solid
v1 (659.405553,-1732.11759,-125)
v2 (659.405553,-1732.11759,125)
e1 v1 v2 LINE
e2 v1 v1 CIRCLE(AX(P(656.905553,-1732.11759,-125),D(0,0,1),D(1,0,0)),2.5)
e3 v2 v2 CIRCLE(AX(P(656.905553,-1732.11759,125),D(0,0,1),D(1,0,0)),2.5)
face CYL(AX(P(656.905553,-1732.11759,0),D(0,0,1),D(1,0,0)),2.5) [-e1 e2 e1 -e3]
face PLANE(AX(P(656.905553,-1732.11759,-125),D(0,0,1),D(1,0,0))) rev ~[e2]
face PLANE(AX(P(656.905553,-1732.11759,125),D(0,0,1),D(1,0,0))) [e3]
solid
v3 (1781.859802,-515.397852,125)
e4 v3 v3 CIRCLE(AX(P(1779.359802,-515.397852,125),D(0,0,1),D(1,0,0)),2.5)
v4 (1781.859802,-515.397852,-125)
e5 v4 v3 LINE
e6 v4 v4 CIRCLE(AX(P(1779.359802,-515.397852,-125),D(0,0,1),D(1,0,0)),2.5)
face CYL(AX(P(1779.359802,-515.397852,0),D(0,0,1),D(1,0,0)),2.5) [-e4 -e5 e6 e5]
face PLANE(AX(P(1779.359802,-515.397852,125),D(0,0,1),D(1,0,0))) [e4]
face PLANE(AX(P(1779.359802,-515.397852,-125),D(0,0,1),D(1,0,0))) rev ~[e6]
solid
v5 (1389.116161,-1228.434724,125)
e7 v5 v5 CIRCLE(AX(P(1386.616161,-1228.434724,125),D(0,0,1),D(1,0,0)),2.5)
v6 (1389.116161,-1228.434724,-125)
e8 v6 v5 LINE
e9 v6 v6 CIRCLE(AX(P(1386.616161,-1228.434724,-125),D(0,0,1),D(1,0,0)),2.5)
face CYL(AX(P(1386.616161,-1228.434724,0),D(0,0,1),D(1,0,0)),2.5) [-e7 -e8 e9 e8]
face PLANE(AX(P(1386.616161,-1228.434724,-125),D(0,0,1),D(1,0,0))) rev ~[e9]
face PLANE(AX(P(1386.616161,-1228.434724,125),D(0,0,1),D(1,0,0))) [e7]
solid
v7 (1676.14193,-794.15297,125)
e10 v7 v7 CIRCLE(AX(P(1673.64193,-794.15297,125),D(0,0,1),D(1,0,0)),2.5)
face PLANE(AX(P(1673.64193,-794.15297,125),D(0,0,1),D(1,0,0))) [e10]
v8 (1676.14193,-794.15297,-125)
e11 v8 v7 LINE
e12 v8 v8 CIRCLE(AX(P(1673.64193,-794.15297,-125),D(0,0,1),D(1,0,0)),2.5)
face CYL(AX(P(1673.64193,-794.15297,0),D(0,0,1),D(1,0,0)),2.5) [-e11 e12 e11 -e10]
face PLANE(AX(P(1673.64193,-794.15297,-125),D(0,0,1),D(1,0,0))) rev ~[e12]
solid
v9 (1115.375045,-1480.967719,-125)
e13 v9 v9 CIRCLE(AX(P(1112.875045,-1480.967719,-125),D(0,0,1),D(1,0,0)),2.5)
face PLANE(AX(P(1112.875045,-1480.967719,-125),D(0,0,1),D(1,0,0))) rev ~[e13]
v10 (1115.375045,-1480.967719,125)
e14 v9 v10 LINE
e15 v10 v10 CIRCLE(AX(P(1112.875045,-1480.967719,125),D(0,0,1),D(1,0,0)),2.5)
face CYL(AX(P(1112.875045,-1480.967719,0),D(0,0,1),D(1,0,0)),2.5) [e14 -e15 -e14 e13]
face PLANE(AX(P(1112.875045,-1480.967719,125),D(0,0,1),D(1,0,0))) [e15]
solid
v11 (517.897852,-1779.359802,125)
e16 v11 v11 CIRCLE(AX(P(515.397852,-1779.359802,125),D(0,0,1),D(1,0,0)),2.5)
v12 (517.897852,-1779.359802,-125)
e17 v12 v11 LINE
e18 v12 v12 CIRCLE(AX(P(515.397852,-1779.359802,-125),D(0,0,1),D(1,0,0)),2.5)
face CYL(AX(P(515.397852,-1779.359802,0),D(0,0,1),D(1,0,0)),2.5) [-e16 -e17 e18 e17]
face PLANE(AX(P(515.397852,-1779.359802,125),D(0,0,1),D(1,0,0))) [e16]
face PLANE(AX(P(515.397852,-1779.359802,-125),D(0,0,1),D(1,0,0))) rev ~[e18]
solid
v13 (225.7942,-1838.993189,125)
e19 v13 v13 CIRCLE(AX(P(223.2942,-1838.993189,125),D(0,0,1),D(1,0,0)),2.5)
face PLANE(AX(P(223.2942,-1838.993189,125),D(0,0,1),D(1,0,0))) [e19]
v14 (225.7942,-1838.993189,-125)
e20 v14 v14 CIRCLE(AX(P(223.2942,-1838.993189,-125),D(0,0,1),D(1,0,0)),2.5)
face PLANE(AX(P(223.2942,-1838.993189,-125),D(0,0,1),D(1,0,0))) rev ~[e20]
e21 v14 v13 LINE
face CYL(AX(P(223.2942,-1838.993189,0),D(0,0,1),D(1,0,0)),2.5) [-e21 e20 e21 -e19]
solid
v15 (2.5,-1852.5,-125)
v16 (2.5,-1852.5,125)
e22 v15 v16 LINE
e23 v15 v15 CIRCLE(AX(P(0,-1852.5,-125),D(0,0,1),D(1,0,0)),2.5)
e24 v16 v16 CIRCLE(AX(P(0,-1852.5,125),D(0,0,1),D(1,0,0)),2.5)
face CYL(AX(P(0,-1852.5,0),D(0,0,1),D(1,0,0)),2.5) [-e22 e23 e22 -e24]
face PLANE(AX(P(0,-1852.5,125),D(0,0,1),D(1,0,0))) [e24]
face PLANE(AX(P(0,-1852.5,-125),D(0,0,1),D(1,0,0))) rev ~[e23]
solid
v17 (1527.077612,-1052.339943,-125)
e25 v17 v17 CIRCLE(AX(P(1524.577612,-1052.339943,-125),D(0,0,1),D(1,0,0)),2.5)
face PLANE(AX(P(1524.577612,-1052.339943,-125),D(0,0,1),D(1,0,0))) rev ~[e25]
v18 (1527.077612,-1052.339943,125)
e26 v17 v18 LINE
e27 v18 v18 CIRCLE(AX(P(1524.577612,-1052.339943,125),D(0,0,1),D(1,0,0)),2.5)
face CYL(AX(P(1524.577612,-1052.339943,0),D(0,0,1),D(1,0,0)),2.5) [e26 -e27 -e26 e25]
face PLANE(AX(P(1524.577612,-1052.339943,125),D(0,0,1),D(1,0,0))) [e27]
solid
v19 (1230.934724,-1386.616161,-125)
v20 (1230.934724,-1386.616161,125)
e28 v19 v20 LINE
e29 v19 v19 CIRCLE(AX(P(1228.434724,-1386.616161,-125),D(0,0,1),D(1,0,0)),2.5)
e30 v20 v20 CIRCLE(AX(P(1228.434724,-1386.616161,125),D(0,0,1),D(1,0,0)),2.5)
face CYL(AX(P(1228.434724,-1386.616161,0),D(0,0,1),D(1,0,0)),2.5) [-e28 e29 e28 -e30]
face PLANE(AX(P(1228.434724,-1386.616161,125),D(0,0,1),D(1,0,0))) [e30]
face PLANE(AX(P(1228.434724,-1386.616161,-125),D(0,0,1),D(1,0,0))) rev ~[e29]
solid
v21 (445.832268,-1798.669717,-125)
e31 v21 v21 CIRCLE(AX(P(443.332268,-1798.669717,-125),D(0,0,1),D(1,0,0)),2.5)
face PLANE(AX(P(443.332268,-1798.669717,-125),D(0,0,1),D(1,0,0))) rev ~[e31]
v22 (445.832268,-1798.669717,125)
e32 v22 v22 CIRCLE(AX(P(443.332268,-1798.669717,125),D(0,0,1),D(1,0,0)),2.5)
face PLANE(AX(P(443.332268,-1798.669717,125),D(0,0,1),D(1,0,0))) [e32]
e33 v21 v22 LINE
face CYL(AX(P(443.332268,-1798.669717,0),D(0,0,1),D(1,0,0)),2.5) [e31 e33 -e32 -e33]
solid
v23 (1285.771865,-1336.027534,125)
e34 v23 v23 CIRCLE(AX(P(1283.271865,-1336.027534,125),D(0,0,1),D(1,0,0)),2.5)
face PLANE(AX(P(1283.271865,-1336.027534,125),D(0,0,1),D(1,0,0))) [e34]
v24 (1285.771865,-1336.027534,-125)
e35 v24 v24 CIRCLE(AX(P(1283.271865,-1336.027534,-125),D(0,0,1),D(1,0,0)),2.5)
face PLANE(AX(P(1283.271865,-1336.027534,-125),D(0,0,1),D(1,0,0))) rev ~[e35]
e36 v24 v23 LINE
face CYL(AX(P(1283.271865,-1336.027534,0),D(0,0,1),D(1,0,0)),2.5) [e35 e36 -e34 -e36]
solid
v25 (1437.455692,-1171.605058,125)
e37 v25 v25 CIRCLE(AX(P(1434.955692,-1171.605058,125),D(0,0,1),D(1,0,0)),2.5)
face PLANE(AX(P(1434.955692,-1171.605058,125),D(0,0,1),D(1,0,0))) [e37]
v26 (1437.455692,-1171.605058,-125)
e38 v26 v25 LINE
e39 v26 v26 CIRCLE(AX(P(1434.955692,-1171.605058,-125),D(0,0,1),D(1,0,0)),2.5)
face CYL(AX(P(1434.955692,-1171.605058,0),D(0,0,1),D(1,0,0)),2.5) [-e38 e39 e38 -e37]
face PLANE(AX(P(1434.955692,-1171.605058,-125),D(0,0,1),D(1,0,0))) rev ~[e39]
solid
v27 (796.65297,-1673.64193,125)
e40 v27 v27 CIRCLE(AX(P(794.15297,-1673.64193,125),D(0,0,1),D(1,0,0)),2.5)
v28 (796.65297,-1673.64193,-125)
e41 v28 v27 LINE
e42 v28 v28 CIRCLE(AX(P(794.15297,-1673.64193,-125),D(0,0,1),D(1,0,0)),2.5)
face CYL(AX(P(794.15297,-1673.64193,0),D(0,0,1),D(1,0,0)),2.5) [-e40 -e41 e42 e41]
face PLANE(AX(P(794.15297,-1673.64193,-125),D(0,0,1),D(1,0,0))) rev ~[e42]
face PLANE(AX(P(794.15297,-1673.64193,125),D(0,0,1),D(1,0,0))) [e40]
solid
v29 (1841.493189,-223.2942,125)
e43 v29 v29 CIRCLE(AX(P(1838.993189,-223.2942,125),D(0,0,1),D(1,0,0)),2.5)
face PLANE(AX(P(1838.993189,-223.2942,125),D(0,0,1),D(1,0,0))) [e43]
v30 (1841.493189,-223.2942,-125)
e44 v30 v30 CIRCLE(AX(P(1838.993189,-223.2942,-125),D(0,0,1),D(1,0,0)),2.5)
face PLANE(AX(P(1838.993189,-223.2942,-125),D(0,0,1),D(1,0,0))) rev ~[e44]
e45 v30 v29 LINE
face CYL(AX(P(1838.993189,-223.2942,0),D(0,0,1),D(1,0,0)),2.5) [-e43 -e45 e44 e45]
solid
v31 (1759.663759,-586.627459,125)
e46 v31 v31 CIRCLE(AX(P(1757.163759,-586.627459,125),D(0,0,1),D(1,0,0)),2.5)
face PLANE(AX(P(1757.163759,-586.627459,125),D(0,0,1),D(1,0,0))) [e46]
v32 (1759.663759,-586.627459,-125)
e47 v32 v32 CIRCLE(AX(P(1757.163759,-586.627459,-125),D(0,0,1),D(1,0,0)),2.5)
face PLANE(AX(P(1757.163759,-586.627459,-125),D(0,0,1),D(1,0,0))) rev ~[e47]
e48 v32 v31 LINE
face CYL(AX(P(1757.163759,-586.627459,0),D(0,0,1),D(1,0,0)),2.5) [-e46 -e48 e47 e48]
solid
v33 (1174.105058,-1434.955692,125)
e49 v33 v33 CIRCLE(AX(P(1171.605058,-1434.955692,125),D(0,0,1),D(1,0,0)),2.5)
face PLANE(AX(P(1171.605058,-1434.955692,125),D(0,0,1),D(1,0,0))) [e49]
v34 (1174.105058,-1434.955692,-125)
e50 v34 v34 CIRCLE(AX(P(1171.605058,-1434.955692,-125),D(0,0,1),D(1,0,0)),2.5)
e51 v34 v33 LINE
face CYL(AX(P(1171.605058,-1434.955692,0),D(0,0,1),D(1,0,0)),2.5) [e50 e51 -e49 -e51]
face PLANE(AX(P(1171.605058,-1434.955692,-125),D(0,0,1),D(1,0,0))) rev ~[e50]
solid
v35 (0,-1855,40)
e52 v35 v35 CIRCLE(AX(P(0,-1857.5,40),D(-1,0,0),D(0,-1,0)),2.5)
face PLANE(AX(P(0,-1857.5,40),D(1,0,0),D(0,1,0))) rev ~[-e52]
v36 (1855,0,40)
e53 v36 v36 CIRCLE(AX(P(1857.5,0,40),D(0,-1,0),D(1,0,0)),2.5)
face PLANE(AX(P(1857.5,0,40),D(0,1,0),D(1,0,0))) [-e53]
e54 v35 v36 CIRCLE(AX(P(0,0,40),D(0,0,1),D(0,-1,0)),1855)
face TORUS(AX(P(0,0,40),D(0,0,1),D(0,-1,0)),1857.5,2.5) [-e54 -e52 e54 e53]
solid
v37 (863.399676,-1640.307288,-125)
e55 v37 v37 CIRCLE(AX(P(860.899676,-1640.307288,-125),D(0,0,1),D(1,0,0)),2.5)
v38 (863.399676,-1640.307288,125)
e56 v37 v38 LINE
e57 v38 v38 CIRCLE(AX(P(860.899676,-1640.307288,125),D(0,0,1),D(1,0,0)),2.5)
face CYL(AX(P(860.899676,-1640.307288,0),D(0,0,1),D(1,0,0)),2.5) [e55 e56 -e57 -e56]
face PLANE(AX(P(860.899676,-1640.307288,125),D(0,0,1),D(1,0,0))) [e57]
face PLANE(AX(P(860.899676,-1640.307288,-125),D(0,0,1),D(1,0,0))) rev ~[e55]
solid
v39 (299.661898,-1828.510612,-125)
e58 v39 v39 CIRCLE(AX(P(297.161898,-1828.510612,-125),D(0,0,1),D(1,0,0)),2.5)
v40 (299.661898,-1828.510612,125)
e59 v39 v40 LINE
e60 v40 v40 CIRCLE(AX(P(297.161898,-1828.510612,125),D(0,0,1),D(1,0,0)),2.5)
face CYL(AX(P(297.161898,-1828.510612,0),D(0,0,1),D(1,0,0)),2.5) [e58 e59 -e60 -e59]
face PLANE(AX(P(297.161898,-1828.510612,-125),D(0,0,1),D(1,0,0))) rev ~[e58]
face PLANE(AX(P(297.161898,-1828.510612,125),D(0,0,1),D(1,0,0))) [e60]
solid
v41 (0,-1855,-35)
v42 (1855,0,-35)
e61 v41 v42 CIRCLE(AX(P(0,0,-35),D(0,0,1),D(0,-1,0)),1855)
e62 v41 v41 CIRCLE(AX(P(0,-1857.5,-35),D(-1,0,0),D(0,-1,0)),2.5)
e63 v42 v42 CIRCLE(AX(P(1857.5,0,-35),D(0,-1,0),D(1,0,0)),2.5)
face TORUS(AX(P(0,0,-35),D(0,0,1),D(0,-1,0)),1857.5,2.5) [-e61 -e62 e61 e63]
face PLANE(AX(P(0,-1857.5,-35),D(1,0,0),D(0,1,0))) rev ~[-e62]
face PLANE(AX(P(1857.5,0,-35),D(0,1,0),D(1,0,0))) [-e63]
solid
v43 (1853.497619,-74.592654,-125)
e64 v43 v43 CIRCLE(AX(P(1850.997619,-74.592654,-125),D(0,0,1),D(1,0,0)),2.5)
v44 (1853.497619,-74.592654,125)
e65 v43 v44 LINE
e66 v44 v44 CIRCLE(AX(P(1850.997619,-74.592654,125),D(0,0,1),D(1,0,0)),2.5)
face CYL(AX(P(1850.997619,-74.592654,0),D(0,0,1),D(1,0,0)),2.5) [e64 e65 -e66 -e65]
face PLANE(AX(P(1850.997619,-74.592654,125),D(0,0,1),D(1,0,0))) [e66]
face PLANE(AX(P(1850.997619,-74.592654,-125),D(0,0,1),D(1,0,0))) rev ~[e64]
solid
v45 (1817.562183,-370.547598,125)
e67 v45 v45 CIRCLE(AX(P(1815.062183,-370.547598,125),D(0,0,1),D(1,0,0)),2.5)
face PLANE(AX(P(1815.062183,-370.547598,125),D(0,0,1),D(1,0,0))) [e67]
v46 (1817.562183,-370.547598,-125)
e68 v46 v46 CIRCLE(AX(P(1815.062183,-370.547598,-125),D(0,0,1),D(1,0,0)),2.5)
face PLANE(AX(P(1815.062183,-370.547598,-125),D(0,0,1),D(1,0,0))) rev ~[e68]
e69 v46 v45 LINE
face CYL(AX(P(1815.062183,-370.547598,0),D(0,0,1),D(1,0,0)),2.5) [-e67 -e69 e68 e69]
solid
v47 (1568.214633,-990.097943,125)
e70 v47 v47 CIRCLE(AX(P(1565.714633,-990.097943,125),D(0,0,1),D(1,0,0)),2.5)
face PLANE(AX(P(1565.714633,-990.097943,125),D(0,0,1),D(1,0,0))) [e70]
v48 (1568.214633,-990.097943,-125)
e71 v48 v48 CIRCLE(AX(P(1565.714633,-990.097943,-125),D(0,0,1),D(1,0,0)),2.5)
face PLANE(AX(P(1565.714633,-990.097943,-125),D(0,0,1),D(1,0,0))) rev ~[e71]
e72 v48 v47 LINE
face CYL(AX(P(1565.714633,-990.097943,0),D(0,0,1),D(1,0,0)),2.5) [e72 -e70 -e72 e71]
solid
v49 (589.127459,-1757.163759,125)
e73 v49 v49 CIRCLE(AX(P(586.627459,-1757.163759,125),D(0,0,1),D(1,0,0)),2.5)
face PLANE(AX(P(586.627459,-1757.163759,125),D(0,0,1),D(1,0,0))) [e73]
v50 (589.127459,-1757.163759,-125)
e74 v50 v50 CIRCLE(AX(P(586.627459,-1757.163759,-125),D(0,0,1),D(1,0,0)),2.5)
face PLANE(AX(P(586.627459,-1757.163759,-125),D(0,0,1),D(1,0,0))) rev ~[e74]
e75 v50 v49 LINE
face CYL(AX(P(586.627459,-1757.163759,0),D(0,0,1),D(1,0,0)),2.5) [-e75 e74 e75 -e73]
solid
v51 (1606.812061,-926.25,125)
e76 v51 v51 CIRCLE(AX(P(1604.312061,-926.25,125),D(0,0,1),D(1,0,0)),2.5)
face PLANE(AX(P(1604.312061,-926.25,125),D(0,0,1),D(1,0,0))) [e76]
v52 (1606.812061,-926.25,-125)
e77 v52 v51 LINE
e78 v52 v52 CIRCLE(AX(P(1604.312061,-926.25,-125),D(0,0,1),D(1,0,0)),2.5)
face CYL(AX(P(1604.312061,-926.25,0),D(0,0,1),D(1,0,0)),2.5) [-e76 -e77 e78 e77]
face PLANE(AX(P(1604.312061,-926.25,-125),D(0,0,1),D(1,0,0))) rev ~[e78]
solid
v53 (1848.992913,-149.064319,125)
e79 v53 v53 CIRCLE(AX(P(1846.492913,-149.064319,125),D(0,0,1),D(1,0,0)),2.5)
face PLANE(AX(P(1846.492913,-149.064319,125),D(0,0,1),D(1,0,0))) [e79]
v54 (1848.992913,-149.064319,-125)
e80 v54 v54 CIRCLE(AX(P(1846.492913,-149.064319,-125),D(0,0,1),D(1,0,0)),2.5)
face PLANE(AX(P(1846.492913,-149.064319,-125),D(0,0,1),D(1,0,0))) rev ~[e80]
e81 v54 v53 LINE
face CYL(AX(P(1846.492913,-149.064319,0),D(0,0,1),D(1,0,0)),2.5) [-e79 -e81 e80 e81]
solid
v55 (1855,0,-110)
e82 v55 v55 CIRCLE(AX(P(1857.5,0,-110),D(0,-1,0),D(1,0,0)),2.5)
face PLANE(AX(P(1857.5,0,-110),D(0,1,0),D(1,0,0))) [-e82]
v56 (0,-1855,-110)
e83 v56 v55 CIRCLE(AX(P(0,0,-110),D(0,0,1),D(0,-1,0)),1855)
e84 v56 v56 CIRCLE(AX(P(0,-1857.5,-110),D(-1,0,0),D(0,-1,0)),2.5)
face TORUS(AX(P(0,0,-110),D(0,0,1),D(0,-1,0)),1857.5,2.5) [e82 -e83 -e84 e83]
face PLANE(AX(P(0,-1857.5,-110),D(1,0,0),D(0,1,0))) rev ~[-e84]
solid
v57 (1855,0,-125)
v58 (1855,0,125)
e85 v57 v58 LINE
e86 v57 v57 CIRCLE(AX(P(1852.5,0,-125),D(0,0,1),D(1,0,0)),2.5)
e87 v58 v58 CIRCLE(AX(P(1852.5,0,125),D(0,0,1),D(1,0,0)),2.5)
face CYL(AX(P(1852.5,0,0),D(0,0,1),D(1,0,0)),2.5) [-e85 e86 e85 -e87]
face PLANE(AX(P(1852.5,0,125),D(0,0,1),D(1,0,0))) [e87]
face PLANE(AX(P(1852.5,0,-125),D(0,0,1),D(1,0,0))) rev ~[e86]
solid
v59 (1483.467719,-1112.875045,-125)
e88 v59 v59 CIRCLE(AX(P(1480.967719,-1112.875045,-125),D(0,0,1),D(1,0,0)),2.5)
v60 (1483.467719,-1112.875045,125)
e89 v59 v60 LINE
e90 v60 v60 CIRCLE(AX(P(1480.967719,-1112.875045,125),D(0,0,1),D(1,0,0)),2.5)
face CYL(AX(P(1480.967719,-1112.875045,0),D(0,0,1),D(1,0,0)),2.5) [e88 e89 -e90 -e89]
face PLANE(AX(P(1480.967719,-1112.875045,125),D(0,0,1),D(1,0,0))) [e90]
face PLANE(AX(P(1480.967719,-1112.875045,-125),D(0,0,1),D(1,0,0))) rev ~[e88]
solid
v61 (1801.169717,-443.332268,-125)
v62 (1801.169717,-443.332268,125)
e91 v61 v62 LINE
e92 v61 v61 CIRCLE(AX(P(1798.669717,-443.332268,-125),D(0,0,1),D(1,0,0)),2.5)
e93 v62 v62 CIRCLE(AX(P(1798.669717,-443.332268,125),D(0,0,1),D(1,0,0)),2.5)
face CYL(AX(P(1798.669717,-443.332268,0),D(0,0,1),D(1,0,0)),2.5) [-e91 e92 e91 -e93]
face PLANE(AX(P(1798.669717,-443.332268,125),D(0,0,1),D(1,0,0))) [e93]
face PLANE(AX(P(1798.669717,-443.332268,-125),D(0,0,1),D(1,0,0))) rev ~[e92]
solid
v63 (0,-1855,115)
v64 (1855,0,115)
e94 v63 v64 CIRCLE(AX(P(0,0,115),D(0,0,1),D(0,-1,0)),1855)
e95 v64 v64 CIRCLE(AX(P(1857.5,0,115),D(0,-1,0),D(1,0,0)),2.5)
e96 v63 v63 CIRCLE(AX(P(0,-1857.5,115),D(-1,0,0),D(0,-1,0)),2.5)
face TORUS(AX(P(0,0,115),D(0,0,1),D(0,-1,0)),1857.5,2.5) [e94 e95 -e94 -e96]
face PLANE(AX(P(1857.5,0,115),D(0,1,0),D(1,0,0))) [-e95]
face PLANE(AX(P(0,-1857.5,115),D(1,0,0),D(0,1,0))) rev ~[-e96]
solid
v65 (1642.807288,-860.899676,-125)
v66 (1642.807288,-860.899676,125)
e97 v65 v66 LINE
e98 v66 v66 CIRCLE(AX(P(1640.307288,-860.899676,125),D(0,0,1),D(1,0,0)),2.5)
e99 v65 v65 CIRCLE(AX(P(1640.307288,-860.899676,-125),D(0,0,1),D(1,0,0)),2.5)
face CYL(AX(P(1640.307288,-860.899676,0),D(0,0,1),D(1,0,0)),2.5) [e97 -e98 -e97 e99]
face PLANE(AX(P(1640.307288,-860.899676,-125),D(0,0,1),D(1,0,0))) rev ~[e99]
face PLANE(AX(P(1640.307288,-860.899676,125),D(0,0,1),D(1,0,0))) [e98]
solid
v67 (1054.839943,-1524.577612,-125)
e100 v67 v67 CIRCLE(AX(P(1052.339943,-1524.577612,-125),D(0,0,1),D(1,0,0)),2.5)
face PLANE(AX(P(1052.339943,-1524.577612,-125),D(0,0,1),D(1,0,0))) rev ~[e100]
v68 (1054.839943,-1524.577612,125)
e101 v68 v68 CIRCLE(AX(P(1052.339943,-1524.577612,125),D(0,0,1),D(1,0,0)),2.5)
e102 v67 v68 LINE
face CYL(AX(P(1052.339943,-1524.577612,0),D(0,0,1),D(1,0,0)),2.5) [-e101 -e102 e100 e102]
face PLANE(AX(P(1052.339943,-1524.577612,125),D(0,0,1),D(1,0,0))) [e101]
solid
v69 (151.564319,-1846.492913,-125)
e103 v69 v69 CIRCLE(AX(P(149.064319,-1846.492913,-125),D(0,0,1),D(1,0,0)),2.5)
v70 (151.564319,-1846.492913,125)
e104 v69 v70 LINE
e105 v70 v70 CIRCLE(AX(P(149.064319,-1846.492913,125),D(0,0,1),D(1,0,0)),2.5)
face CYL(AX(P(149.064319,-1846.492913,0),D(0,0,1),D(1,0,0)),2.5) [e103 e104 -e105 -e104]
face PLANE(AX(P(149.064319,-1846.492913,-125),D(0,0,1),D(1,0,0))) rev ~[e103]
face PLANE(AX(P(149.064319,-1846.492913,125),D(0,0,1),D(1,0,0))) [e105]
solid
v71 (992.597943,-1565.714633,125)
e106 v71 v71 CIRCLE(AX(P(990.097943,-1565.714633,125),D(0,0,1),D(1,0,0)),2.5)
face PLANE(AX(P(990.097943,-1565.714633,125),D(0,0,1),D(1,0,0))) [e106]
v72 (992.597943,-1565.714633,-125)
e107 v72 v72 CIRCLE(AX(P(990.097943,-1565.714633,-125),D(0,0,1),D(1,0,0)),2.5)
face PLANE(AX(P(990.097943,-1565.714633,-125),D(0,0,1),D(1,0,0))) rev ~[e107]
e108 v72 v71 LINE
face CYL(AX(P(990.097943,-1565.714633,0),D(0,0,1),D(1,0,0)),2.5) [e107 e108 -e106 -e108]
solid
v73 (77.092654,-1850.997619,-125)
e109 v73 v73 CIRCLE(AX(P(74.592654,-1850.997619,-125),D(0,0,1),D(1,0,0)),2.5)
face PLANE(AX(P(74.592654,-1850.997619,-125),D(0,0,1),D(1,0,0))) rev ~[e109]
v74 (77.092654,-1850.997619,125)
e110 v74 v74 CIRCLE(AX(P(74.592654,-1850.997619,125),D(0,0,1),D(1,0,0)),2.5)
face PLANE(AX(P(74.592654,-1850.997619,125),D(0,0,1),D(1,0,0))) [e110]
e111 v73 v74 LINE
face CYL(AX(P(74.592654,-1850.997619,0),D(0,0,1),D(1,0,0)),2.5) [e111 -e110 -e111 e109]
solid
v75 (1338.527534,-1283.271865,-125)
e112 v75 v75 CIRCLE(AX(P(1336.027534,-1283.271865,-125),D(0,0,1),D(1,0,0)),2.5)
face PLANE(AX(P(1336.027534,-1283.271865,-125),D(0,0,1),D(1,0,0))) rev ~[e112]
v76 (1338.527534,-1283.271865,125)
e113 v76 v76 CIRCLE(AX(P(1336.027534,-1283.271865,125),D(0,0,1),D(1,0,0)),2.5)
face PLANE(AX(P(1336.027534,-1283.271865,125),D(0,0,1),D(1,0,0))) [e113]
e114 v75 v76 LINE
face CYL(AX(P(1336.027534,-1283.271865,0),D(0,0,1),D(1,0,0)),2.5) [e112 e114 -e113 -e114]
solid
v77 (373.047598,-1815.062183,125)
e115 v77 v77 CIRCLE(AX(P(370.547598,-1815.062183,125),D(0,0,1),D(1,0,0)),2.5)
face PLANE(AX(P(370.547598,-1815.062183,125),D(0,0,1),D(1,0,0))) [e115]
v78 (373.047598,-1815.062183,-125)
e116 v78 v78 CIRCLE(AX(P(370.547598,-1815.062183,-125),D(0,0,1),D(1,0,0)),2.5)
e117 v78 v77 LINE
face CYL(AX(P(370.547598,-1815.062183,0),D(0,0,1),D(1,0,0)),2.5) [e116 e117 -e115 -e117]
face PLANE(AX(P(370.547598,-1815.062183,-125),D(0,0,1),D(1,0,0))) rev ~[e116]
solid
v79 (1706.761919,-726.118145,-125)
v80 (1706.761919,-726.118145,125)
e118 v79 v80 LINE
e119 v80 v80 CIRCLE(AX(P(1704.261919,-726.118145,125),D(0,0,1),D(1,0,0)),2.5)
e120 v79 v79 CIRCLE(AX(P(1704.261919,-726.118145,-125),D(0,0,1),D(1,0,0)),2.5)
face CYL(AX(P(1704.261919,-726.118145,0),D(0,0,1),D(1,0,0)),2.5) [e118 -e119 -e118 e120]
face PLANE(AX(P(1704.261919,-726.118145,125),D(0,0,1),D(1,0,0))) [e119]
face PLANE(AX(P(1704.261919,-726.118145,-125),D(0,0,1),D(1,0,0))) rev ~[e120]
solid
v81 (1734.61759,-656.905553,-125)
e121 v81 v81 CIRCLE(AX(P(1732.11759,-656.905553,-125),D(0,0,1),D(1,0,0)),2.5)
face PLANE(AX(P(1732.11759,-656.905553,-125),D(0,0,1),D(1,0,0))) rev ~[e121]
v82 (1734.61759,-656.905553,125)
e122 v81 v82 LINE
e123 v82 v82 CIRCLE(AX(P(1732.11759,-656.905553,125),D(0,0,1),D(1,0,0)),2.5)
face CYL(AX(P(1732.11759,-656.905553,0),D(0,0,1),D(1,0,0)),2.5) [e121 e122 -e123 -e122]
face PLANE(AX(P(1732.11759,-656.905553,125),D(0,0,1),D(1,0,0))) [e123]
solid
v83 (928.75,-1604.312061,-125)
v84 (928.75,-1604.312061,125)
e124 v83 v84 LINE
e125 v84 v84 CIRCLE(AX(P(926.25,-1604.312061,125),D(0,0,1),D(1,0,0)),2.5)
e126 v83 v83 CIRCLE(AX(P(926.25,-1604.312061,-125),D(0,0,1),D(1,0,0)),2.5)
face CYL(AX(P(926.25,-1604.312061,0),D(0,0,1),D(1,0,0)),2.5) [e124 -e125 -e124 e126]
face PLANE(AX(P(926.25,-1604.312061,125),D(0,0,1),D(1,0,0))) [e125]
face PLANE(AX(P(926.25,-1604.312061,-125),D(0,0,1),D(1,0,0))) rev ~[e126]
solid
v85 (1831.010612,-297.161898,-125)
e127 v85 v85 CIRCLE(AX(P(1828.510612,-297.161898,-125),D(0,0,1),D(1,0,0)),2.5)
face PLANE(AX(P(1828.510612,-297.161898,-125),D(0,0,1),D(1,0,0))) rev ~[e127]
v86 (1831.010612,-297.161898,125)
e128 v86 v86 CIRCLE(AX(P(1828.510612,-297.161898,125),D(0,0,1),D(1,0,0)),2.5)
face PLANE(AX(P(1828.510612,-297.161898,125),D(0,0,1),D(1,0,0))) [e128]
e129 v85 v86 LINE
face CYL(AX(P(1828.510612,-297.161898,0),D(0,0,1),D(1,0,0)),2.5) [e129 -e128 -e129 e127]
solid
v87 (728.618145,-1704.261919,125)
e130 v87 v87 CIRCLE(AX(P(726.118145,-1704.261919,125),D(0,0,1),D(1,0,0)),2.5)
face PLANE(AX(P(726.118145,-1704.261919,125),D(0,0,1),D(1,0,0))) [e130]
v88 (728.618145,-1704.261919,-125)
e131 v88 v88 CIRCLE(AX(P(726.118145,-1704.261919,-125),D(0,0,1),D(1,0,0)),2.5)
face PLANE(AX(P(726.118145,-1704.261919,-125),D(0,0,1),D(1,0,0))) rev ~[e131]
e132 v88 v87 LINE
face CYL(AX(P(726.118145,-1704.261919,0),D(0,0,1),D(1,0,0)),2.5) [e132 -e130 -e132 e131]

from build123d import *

# Parameters (mm, degrees)
F0_R     = 2.5
F1_DEPTH = 125
F2_R     = 2.5


with BuildPart() as f1:
    # F0 (on Top) → F1 (new body, symmetric)
    with BuildSketch(Plane.XY):
        with Locations((0, -1852.5)):
            Circle(F0_R)
    extrude(amount=F1_DEPTH, both=True)


with BuildPart() as f1b:
    # F0 (on Top) → F1, piece 2 (new body, symmetric)
    with BuildSketch(Plane.XY):
        with Locations((74.5926540527, -1850.9976191128)):
            Circle(F0_R)
    extrude(amount=F1_DEPTH, both=True)


with BuildPart() as f1c:
    # F0 (on Top) → F1, piece 3 (new body, symmetric)
    with BuildSketch(Plane.XY):
        with Locations((149.0643185477, -1846.4929133186)):
            Circle(F0_R)
    extrude(amount=F1_DEPTH, both=True)


with BuildPart() as f1d:
    # F0 (on Top) → F1, piece 4 (new body, symmetric)
    with BuildSketch(Plane.XY):
        with Locations((223.294200173, -1838.9931892666)):
            Circle(F0_R)
    extrude(amount=F1_DEPTH, both=True)


with BuildPart() as f1e:
    # F0 (on Top) → F1, piece 5 (new body, symmetric)
    with BuildSketch(Plane.XY):
        with Locations((297.161897789, -1828.5106115367)):
            Circle(F0_R)
    extrude(amount=F1_DEPTH, both=True)


with BuildPart() as f1f:
    # F0 (on Top) → F1, piece 6 (new body, symmetric)
    with BuildSketch(Plane.XY):
        with Locations((370.5475977201, -1815.0621829083)):
            Circle(F0_R)
    extrude(amount=F1_DEPTH, both=True)


with BuildPart() as f1g:
    # F0 (on Top) → F1, piece 7 (new body, symmetric)
    with BuildSketch(Plane.XY):
        with Locations((443.3322680927, -1798.6697167818)):
            Circle(F0_R)
    extrude(amount=F1_DEPTH, both=True)


with BuildPart() as f1h:
    # F0 (on Top) → F1, piece 8 (new body, symmetric)
    with BuildSketch(Plane.XY):
        with Locations((515.3978519052, -1779.3598017971)):
            Circle(F0_R)
    extrude(amount=F1_DEPTH, both=True)


with BuildPart() as f1i:
    # F0 (on Top) → F1, piece 9 (new body, symmetric)
    with BuildSketch(Plane.XY):
        with Locations((586.6274585172, -1757.1637587071)):
            Circle(F0_R)
    extrude(amount=F1_DEPTH, both=True)


with BuildPart() as f1j:
    # F0 (on Top) → F1, piece 10 (new body, symmetric)
    with BuildSketch(Plane.XY):
        with Locations((656.9055532463, -1732.1175895747)):
            Circle(F0_R)
    extrude(amount=F1_DEPTH, both=True)


with BuildPart() as f1k:
    # F0 (on Top) → F1, piece 11 (new body, symmetric)
    with BuildSketch(Plane.XY):
        with Locations((726.1181447658, -1704.261919378)):
            Circle(F0_R)
    extrude(amount=F1_DEPTH, both=True)


with BuildPart() as f1l:
    # F0 (on Top) → F1, piece 12 (new body, symmetric)
    with BuildSketch(Plane.XY):
        with Locations((794.1529699992, -1673.6419301157)):
            Circle(F0_R)
    extrude(amount=F1_DEPTH, both=True)


with BuildPart() as f1m:
    # F0 (on Top) → F1, piece 13 (new body, symmetric)
    with BuildSketch(Plane.XY):
        with Locations((860.8996762111, -1640.3072875226)):
            Circle(F0_R)
    extrude(amount=F1_DEPTH, both=True)


with BuildPart() as f1n:
    # F0 (on Top) → F1, piece 14 (new body, symmetric)
    with BuildSketch(Plane.XY):
        with Locations((926.25, -1604.3120605107)):
            Circle(F0_R)
    extrude(amount=F1_DEPTH, both=True)


with BuildPart() as f1o:
    # F0 (on Top) → F1, piece 15 (new body, symmetric)
    with BuildSketch(Plane.XY):
        with Locations((990.0979429018, -1565.7146334699)):
            Circle(F0_R)
    extrude(amount=F1_DEPTH, both=True)


with BuildPart() as f1p:
    # F0 (on Top) → F1, piece 16 (new body, symmetric)
    with BuildSketch(Plane.XY):
        with Locations((1052.3399433195, -1524.577611568)):
            Circle(F0_R)
    extrude(amount=F1_DEPTH, both=True)


with BuildPart() as f1q:
    # F0 (on Top) → F1, piece 17 (new body, symmetric)
    with BuildSketch(Plane.XY):
        with Locations((1112.8750445009, -1480.967719205)):
            Circle(F0_R)
    extrude(amount=F1_DEPTH, both=True)


with BuildPart() as f1r:
    # F0 (on Top) → F1, piece 18 (new body, symmetric)
    with BuildSketch(Plane.XY):
        with Locations((1171.6050582904, -1434.9556917857)):
            Circle(F0_R)
    extrude(amount=F1_DEPTH, both=True)


with BuildPart() as f1s:
    # F0 (on Top) → F1, piece 19 (new body, symmetric)
    with BuildSketch(Plane.XY):
        with Locations((1228.4347243911, -1386.616160987)):
            Circle(F0_R)
    extrude(amount=F1_DEPTH, both=True)


with BuildPart() as f1t:
    # F0 (on Top) → F1, piece 20 (new body, symmetric)
    with BuildSketch(Plane.XY):
        with Locations((1283.2718648765, -1336.0275337044)):
            Circle(F0_R)
    extrude(amount=F1_DEPTH, both=True)


with BuildPart() as f1u:
    # F0 (on Top) → F1, piece 21 (new body, symmetric)
    with BuildSketch(Plane.XY):
        with Locations((1336.0275337044, -1283.2718648765)):
            Circle(F0_R)
    extrude(amount=F1_DEPTH, both=True)


with BuildPart() as f1v:
    # F0 (on Top) → F1, piece 22 (new body, symmetric)
    with BuildSketch(Plane.XY):
        with Locations((1386.616160987, -1228.4347243911)):
            Circle(F0_R)
    extrude(amount=F1_DEPTH, both=True)


with BuildPart() as f1w:
    # F0 (on Top) → F1, piece 23 (new body, symmetric)
    with BuildSketch(Plane.XY):
        with Locations((1434.9556917857, -1171.6050582904)):
            Circle(F0_R)
    extrude(amount=F1_DEPTH, both=True)


with BuildPart() as f1x:
    # F0 (on Top) → F1, piece 24 (new body, symmetric)
    with BuildSketch(Plane.XY):
        with Locations((1480.967719205, -1112.8750445009)):
            Circle(F0_R)
    extrude(amount=F1_DEPTH, both=True)


with BuildPart() as f1y:
    # F0 (on Top) → F1, piece 25 (new body, symmetric)
    with BuildSketch(Plane.XY):
        with Locations((1524.577611568, -1052.3399433195)):
            Circle(F0_R)
    extrude(amount=F1_DEPTH, both=True)


with BuildPart() as f1z:
    # F0 (on Top) → F1, piece 26 (new body, symmetric)
    with BuildSketch(Plane.XY):
        with Locations((1565.7146334699, -990.0979429018)):
            Circle(F0_R)
    extrude(amount=F1_DEPTH, both=True)


with BuildPart() as f1ba:
    # F0 (on Top) → F1, piece 27 (new body, symmetric)
    with BuildSketch(Plane.XY):
        with Locations((1604.3120605107, -926.25)):
            Circle(F0_R)
    extrude(amount=F1_DEPTH, both=True)


with BuildPart() as f1bb:
    # F0 (on Top) → F1, piece 28 (new body, symmetric)
    with BuildSketch(Plane.XY):
        with Locations((1640.3072875226, -860.8996762111)):
            Circle(F0_R)
    extrude(amount=F1_DEPTH, both=True)


with BuildPart() as f1bc:
    # F0 (on Top) → F1, piece 29 (new body, symmetric)
    with BuildSketch(Plane.XY):
        with Locations((1673.6419301157, -794.1529699992)):
            Circle(F0_R)
    extrude(amount=F1_DEPTH, both=True)


with BuildPart() as f1bd:
    # F0 (on Top) → F1, piece 30 (new body, symmetric)
    with BuildSketch(Plane.XY):
        with Locations((1704.261919378, -726.1181447658)):
            Circle(F0_R)
    extrude(amount=F1_DEPTH, both=True)


with BuildPart() as f1be:
    # F0 (on Top) → F1, piece 31 (new body, symmetric)
    with BuildSketch(Plane.XY):
        with Locations((1732.1175895747, -656.9055532463)):
            Circle(F0_R)
    extrude(amount=F1_DEPTH, both=True)


with BuildPart() as f1bf:
    # F0 (on Top) → F1, piece 32 (new body, symmetric)
    with BuildSketch(Plane.XY):
        with Locations((1757.1637587071, -586.6274585172)):
            Circle(F0_R)
    extrude(amount=F1_DEPTH, both=True)


with BuildPart() as f1bg:
    # F0 (on Top) → F1, piece 33 (new body, symmetric)
    with BuildSketch(Plane.XY):
        with Locations((1779.3598017971, -515.3978519052)):
            Circle(F0_R)
    extrude(amount=F1_DEPTH, both=True)


with BuildPart() as f1bh:
    # F0 (on Top) → F1, piece 34 (new body, symmetric)
    with BuildSketch(Plane.XY):
        with Locations((1798.6697167818, -443.3322680927)):
            Circle(F0_R)
    extrude(amount=F1_DEPTH, both=True)


with BuildPart() as f1bi:
    # F0 (on Top) → F1, piece 35 (new body, symmetric)
    with BuildSketch(Plane.XY):
        with Locations((1815.0621829083, -370.5475977201)):
            Circle(F0_R)
    extrude(amount=F1_DEPTH, both=True)


with BuildPart() as f1bj:
    # F0 (on Top) → F1, piece 36 (new body, symmetric)
    with BuildSketch(Plane.XY):
        with Locations((1828.5106115367, -297.161897789)):
            Circle(F0_R)
    extrude(amount=F1_DEPTH, both=True)


with BuildPart() as f1bk:
    # F0 (on Top) → F1, piece 37 (new body, symmetric)
    with BuildSketch(Plane.XY):
        with Locations((1838.9931892666, -223.294200173)):
            Circle(F0_R)
    extrude(amount=F1_DEPTH, both=True)


with BuildPart() as f1bl:
    # F0 (on Top) → F1, piece 38 (new body, symmetric)
    with BuildSketch(Plane.XY):
        with Locations((1846.4929133186, -149.0643185477)):
            Circle(F0_R)
    extrude(amount=F1_DEPTH, both=True)


with BuildPart() as f1bm:
    # F0 (on Top) → F1, piece 39 (new body, symmetric)
    with BuildSketch(Plane.XY):
        with Locations((1850.9976191128, -74.5926540527)):
            Circle(F0_R)
    extrude(amount=F1_DEPTH, both=True)


with BuildPart() as f1bn:
    # F0 (on Top) → F1, piece 40 (new body, symmetric)
    with BuildSketch(Plane.XY):
        with Locations((1852.5, 0)):
            Circle(F0_R)
    extrude(amount=F1_DEPTH, both=True)


with BuildPart() as f5:
    # F5: sweep along a path in F4
    with BuildLine(Plane.XY.offset(115)) as f5_path:
        ThreePointArc((0, -1857.5), (1313.450846054, -1313.450846054), (1857.5, 0))
    # F2 (on Right) → F5 (sweep)
    with BuildSketch(Plane.YZ):
        with Locations((-1857.5, 115)):
            Circle(F2_R)
        with Locations((-1857.5, 40)):
            Circle(F2_R)
        with Locations((-1857.5, -35)):
            Circle(F2_R)
        with Locations((-1857.5, -110)):
            Circle(F2_R)
    sweep(path=f5_path.line)


solid = Compound([f1.part, f1b.part, f1c.part, f1d.part, f1e.part, f1f.part, f1g.part, f1h.part, f1i.part, f1j.part, f1k.part, f1l.part, f1m.part, f1n.part, f1o.part, f1p.part, f1q.part, f1r.part, f1s.part, f1t.part, f1u.part, f1v.part, f1w.part, f1x.part, f1y.part, f1z.part, f1ba.part, f1bb.part, f1bc.part, f1bd.part, f1be.part, f1bf.part, f1bg.part, f1bh.part, f1bi.part, f1bj.part, f1bk.part, f1bl.part, f1bm.part, f1bn.part, f5.part])
